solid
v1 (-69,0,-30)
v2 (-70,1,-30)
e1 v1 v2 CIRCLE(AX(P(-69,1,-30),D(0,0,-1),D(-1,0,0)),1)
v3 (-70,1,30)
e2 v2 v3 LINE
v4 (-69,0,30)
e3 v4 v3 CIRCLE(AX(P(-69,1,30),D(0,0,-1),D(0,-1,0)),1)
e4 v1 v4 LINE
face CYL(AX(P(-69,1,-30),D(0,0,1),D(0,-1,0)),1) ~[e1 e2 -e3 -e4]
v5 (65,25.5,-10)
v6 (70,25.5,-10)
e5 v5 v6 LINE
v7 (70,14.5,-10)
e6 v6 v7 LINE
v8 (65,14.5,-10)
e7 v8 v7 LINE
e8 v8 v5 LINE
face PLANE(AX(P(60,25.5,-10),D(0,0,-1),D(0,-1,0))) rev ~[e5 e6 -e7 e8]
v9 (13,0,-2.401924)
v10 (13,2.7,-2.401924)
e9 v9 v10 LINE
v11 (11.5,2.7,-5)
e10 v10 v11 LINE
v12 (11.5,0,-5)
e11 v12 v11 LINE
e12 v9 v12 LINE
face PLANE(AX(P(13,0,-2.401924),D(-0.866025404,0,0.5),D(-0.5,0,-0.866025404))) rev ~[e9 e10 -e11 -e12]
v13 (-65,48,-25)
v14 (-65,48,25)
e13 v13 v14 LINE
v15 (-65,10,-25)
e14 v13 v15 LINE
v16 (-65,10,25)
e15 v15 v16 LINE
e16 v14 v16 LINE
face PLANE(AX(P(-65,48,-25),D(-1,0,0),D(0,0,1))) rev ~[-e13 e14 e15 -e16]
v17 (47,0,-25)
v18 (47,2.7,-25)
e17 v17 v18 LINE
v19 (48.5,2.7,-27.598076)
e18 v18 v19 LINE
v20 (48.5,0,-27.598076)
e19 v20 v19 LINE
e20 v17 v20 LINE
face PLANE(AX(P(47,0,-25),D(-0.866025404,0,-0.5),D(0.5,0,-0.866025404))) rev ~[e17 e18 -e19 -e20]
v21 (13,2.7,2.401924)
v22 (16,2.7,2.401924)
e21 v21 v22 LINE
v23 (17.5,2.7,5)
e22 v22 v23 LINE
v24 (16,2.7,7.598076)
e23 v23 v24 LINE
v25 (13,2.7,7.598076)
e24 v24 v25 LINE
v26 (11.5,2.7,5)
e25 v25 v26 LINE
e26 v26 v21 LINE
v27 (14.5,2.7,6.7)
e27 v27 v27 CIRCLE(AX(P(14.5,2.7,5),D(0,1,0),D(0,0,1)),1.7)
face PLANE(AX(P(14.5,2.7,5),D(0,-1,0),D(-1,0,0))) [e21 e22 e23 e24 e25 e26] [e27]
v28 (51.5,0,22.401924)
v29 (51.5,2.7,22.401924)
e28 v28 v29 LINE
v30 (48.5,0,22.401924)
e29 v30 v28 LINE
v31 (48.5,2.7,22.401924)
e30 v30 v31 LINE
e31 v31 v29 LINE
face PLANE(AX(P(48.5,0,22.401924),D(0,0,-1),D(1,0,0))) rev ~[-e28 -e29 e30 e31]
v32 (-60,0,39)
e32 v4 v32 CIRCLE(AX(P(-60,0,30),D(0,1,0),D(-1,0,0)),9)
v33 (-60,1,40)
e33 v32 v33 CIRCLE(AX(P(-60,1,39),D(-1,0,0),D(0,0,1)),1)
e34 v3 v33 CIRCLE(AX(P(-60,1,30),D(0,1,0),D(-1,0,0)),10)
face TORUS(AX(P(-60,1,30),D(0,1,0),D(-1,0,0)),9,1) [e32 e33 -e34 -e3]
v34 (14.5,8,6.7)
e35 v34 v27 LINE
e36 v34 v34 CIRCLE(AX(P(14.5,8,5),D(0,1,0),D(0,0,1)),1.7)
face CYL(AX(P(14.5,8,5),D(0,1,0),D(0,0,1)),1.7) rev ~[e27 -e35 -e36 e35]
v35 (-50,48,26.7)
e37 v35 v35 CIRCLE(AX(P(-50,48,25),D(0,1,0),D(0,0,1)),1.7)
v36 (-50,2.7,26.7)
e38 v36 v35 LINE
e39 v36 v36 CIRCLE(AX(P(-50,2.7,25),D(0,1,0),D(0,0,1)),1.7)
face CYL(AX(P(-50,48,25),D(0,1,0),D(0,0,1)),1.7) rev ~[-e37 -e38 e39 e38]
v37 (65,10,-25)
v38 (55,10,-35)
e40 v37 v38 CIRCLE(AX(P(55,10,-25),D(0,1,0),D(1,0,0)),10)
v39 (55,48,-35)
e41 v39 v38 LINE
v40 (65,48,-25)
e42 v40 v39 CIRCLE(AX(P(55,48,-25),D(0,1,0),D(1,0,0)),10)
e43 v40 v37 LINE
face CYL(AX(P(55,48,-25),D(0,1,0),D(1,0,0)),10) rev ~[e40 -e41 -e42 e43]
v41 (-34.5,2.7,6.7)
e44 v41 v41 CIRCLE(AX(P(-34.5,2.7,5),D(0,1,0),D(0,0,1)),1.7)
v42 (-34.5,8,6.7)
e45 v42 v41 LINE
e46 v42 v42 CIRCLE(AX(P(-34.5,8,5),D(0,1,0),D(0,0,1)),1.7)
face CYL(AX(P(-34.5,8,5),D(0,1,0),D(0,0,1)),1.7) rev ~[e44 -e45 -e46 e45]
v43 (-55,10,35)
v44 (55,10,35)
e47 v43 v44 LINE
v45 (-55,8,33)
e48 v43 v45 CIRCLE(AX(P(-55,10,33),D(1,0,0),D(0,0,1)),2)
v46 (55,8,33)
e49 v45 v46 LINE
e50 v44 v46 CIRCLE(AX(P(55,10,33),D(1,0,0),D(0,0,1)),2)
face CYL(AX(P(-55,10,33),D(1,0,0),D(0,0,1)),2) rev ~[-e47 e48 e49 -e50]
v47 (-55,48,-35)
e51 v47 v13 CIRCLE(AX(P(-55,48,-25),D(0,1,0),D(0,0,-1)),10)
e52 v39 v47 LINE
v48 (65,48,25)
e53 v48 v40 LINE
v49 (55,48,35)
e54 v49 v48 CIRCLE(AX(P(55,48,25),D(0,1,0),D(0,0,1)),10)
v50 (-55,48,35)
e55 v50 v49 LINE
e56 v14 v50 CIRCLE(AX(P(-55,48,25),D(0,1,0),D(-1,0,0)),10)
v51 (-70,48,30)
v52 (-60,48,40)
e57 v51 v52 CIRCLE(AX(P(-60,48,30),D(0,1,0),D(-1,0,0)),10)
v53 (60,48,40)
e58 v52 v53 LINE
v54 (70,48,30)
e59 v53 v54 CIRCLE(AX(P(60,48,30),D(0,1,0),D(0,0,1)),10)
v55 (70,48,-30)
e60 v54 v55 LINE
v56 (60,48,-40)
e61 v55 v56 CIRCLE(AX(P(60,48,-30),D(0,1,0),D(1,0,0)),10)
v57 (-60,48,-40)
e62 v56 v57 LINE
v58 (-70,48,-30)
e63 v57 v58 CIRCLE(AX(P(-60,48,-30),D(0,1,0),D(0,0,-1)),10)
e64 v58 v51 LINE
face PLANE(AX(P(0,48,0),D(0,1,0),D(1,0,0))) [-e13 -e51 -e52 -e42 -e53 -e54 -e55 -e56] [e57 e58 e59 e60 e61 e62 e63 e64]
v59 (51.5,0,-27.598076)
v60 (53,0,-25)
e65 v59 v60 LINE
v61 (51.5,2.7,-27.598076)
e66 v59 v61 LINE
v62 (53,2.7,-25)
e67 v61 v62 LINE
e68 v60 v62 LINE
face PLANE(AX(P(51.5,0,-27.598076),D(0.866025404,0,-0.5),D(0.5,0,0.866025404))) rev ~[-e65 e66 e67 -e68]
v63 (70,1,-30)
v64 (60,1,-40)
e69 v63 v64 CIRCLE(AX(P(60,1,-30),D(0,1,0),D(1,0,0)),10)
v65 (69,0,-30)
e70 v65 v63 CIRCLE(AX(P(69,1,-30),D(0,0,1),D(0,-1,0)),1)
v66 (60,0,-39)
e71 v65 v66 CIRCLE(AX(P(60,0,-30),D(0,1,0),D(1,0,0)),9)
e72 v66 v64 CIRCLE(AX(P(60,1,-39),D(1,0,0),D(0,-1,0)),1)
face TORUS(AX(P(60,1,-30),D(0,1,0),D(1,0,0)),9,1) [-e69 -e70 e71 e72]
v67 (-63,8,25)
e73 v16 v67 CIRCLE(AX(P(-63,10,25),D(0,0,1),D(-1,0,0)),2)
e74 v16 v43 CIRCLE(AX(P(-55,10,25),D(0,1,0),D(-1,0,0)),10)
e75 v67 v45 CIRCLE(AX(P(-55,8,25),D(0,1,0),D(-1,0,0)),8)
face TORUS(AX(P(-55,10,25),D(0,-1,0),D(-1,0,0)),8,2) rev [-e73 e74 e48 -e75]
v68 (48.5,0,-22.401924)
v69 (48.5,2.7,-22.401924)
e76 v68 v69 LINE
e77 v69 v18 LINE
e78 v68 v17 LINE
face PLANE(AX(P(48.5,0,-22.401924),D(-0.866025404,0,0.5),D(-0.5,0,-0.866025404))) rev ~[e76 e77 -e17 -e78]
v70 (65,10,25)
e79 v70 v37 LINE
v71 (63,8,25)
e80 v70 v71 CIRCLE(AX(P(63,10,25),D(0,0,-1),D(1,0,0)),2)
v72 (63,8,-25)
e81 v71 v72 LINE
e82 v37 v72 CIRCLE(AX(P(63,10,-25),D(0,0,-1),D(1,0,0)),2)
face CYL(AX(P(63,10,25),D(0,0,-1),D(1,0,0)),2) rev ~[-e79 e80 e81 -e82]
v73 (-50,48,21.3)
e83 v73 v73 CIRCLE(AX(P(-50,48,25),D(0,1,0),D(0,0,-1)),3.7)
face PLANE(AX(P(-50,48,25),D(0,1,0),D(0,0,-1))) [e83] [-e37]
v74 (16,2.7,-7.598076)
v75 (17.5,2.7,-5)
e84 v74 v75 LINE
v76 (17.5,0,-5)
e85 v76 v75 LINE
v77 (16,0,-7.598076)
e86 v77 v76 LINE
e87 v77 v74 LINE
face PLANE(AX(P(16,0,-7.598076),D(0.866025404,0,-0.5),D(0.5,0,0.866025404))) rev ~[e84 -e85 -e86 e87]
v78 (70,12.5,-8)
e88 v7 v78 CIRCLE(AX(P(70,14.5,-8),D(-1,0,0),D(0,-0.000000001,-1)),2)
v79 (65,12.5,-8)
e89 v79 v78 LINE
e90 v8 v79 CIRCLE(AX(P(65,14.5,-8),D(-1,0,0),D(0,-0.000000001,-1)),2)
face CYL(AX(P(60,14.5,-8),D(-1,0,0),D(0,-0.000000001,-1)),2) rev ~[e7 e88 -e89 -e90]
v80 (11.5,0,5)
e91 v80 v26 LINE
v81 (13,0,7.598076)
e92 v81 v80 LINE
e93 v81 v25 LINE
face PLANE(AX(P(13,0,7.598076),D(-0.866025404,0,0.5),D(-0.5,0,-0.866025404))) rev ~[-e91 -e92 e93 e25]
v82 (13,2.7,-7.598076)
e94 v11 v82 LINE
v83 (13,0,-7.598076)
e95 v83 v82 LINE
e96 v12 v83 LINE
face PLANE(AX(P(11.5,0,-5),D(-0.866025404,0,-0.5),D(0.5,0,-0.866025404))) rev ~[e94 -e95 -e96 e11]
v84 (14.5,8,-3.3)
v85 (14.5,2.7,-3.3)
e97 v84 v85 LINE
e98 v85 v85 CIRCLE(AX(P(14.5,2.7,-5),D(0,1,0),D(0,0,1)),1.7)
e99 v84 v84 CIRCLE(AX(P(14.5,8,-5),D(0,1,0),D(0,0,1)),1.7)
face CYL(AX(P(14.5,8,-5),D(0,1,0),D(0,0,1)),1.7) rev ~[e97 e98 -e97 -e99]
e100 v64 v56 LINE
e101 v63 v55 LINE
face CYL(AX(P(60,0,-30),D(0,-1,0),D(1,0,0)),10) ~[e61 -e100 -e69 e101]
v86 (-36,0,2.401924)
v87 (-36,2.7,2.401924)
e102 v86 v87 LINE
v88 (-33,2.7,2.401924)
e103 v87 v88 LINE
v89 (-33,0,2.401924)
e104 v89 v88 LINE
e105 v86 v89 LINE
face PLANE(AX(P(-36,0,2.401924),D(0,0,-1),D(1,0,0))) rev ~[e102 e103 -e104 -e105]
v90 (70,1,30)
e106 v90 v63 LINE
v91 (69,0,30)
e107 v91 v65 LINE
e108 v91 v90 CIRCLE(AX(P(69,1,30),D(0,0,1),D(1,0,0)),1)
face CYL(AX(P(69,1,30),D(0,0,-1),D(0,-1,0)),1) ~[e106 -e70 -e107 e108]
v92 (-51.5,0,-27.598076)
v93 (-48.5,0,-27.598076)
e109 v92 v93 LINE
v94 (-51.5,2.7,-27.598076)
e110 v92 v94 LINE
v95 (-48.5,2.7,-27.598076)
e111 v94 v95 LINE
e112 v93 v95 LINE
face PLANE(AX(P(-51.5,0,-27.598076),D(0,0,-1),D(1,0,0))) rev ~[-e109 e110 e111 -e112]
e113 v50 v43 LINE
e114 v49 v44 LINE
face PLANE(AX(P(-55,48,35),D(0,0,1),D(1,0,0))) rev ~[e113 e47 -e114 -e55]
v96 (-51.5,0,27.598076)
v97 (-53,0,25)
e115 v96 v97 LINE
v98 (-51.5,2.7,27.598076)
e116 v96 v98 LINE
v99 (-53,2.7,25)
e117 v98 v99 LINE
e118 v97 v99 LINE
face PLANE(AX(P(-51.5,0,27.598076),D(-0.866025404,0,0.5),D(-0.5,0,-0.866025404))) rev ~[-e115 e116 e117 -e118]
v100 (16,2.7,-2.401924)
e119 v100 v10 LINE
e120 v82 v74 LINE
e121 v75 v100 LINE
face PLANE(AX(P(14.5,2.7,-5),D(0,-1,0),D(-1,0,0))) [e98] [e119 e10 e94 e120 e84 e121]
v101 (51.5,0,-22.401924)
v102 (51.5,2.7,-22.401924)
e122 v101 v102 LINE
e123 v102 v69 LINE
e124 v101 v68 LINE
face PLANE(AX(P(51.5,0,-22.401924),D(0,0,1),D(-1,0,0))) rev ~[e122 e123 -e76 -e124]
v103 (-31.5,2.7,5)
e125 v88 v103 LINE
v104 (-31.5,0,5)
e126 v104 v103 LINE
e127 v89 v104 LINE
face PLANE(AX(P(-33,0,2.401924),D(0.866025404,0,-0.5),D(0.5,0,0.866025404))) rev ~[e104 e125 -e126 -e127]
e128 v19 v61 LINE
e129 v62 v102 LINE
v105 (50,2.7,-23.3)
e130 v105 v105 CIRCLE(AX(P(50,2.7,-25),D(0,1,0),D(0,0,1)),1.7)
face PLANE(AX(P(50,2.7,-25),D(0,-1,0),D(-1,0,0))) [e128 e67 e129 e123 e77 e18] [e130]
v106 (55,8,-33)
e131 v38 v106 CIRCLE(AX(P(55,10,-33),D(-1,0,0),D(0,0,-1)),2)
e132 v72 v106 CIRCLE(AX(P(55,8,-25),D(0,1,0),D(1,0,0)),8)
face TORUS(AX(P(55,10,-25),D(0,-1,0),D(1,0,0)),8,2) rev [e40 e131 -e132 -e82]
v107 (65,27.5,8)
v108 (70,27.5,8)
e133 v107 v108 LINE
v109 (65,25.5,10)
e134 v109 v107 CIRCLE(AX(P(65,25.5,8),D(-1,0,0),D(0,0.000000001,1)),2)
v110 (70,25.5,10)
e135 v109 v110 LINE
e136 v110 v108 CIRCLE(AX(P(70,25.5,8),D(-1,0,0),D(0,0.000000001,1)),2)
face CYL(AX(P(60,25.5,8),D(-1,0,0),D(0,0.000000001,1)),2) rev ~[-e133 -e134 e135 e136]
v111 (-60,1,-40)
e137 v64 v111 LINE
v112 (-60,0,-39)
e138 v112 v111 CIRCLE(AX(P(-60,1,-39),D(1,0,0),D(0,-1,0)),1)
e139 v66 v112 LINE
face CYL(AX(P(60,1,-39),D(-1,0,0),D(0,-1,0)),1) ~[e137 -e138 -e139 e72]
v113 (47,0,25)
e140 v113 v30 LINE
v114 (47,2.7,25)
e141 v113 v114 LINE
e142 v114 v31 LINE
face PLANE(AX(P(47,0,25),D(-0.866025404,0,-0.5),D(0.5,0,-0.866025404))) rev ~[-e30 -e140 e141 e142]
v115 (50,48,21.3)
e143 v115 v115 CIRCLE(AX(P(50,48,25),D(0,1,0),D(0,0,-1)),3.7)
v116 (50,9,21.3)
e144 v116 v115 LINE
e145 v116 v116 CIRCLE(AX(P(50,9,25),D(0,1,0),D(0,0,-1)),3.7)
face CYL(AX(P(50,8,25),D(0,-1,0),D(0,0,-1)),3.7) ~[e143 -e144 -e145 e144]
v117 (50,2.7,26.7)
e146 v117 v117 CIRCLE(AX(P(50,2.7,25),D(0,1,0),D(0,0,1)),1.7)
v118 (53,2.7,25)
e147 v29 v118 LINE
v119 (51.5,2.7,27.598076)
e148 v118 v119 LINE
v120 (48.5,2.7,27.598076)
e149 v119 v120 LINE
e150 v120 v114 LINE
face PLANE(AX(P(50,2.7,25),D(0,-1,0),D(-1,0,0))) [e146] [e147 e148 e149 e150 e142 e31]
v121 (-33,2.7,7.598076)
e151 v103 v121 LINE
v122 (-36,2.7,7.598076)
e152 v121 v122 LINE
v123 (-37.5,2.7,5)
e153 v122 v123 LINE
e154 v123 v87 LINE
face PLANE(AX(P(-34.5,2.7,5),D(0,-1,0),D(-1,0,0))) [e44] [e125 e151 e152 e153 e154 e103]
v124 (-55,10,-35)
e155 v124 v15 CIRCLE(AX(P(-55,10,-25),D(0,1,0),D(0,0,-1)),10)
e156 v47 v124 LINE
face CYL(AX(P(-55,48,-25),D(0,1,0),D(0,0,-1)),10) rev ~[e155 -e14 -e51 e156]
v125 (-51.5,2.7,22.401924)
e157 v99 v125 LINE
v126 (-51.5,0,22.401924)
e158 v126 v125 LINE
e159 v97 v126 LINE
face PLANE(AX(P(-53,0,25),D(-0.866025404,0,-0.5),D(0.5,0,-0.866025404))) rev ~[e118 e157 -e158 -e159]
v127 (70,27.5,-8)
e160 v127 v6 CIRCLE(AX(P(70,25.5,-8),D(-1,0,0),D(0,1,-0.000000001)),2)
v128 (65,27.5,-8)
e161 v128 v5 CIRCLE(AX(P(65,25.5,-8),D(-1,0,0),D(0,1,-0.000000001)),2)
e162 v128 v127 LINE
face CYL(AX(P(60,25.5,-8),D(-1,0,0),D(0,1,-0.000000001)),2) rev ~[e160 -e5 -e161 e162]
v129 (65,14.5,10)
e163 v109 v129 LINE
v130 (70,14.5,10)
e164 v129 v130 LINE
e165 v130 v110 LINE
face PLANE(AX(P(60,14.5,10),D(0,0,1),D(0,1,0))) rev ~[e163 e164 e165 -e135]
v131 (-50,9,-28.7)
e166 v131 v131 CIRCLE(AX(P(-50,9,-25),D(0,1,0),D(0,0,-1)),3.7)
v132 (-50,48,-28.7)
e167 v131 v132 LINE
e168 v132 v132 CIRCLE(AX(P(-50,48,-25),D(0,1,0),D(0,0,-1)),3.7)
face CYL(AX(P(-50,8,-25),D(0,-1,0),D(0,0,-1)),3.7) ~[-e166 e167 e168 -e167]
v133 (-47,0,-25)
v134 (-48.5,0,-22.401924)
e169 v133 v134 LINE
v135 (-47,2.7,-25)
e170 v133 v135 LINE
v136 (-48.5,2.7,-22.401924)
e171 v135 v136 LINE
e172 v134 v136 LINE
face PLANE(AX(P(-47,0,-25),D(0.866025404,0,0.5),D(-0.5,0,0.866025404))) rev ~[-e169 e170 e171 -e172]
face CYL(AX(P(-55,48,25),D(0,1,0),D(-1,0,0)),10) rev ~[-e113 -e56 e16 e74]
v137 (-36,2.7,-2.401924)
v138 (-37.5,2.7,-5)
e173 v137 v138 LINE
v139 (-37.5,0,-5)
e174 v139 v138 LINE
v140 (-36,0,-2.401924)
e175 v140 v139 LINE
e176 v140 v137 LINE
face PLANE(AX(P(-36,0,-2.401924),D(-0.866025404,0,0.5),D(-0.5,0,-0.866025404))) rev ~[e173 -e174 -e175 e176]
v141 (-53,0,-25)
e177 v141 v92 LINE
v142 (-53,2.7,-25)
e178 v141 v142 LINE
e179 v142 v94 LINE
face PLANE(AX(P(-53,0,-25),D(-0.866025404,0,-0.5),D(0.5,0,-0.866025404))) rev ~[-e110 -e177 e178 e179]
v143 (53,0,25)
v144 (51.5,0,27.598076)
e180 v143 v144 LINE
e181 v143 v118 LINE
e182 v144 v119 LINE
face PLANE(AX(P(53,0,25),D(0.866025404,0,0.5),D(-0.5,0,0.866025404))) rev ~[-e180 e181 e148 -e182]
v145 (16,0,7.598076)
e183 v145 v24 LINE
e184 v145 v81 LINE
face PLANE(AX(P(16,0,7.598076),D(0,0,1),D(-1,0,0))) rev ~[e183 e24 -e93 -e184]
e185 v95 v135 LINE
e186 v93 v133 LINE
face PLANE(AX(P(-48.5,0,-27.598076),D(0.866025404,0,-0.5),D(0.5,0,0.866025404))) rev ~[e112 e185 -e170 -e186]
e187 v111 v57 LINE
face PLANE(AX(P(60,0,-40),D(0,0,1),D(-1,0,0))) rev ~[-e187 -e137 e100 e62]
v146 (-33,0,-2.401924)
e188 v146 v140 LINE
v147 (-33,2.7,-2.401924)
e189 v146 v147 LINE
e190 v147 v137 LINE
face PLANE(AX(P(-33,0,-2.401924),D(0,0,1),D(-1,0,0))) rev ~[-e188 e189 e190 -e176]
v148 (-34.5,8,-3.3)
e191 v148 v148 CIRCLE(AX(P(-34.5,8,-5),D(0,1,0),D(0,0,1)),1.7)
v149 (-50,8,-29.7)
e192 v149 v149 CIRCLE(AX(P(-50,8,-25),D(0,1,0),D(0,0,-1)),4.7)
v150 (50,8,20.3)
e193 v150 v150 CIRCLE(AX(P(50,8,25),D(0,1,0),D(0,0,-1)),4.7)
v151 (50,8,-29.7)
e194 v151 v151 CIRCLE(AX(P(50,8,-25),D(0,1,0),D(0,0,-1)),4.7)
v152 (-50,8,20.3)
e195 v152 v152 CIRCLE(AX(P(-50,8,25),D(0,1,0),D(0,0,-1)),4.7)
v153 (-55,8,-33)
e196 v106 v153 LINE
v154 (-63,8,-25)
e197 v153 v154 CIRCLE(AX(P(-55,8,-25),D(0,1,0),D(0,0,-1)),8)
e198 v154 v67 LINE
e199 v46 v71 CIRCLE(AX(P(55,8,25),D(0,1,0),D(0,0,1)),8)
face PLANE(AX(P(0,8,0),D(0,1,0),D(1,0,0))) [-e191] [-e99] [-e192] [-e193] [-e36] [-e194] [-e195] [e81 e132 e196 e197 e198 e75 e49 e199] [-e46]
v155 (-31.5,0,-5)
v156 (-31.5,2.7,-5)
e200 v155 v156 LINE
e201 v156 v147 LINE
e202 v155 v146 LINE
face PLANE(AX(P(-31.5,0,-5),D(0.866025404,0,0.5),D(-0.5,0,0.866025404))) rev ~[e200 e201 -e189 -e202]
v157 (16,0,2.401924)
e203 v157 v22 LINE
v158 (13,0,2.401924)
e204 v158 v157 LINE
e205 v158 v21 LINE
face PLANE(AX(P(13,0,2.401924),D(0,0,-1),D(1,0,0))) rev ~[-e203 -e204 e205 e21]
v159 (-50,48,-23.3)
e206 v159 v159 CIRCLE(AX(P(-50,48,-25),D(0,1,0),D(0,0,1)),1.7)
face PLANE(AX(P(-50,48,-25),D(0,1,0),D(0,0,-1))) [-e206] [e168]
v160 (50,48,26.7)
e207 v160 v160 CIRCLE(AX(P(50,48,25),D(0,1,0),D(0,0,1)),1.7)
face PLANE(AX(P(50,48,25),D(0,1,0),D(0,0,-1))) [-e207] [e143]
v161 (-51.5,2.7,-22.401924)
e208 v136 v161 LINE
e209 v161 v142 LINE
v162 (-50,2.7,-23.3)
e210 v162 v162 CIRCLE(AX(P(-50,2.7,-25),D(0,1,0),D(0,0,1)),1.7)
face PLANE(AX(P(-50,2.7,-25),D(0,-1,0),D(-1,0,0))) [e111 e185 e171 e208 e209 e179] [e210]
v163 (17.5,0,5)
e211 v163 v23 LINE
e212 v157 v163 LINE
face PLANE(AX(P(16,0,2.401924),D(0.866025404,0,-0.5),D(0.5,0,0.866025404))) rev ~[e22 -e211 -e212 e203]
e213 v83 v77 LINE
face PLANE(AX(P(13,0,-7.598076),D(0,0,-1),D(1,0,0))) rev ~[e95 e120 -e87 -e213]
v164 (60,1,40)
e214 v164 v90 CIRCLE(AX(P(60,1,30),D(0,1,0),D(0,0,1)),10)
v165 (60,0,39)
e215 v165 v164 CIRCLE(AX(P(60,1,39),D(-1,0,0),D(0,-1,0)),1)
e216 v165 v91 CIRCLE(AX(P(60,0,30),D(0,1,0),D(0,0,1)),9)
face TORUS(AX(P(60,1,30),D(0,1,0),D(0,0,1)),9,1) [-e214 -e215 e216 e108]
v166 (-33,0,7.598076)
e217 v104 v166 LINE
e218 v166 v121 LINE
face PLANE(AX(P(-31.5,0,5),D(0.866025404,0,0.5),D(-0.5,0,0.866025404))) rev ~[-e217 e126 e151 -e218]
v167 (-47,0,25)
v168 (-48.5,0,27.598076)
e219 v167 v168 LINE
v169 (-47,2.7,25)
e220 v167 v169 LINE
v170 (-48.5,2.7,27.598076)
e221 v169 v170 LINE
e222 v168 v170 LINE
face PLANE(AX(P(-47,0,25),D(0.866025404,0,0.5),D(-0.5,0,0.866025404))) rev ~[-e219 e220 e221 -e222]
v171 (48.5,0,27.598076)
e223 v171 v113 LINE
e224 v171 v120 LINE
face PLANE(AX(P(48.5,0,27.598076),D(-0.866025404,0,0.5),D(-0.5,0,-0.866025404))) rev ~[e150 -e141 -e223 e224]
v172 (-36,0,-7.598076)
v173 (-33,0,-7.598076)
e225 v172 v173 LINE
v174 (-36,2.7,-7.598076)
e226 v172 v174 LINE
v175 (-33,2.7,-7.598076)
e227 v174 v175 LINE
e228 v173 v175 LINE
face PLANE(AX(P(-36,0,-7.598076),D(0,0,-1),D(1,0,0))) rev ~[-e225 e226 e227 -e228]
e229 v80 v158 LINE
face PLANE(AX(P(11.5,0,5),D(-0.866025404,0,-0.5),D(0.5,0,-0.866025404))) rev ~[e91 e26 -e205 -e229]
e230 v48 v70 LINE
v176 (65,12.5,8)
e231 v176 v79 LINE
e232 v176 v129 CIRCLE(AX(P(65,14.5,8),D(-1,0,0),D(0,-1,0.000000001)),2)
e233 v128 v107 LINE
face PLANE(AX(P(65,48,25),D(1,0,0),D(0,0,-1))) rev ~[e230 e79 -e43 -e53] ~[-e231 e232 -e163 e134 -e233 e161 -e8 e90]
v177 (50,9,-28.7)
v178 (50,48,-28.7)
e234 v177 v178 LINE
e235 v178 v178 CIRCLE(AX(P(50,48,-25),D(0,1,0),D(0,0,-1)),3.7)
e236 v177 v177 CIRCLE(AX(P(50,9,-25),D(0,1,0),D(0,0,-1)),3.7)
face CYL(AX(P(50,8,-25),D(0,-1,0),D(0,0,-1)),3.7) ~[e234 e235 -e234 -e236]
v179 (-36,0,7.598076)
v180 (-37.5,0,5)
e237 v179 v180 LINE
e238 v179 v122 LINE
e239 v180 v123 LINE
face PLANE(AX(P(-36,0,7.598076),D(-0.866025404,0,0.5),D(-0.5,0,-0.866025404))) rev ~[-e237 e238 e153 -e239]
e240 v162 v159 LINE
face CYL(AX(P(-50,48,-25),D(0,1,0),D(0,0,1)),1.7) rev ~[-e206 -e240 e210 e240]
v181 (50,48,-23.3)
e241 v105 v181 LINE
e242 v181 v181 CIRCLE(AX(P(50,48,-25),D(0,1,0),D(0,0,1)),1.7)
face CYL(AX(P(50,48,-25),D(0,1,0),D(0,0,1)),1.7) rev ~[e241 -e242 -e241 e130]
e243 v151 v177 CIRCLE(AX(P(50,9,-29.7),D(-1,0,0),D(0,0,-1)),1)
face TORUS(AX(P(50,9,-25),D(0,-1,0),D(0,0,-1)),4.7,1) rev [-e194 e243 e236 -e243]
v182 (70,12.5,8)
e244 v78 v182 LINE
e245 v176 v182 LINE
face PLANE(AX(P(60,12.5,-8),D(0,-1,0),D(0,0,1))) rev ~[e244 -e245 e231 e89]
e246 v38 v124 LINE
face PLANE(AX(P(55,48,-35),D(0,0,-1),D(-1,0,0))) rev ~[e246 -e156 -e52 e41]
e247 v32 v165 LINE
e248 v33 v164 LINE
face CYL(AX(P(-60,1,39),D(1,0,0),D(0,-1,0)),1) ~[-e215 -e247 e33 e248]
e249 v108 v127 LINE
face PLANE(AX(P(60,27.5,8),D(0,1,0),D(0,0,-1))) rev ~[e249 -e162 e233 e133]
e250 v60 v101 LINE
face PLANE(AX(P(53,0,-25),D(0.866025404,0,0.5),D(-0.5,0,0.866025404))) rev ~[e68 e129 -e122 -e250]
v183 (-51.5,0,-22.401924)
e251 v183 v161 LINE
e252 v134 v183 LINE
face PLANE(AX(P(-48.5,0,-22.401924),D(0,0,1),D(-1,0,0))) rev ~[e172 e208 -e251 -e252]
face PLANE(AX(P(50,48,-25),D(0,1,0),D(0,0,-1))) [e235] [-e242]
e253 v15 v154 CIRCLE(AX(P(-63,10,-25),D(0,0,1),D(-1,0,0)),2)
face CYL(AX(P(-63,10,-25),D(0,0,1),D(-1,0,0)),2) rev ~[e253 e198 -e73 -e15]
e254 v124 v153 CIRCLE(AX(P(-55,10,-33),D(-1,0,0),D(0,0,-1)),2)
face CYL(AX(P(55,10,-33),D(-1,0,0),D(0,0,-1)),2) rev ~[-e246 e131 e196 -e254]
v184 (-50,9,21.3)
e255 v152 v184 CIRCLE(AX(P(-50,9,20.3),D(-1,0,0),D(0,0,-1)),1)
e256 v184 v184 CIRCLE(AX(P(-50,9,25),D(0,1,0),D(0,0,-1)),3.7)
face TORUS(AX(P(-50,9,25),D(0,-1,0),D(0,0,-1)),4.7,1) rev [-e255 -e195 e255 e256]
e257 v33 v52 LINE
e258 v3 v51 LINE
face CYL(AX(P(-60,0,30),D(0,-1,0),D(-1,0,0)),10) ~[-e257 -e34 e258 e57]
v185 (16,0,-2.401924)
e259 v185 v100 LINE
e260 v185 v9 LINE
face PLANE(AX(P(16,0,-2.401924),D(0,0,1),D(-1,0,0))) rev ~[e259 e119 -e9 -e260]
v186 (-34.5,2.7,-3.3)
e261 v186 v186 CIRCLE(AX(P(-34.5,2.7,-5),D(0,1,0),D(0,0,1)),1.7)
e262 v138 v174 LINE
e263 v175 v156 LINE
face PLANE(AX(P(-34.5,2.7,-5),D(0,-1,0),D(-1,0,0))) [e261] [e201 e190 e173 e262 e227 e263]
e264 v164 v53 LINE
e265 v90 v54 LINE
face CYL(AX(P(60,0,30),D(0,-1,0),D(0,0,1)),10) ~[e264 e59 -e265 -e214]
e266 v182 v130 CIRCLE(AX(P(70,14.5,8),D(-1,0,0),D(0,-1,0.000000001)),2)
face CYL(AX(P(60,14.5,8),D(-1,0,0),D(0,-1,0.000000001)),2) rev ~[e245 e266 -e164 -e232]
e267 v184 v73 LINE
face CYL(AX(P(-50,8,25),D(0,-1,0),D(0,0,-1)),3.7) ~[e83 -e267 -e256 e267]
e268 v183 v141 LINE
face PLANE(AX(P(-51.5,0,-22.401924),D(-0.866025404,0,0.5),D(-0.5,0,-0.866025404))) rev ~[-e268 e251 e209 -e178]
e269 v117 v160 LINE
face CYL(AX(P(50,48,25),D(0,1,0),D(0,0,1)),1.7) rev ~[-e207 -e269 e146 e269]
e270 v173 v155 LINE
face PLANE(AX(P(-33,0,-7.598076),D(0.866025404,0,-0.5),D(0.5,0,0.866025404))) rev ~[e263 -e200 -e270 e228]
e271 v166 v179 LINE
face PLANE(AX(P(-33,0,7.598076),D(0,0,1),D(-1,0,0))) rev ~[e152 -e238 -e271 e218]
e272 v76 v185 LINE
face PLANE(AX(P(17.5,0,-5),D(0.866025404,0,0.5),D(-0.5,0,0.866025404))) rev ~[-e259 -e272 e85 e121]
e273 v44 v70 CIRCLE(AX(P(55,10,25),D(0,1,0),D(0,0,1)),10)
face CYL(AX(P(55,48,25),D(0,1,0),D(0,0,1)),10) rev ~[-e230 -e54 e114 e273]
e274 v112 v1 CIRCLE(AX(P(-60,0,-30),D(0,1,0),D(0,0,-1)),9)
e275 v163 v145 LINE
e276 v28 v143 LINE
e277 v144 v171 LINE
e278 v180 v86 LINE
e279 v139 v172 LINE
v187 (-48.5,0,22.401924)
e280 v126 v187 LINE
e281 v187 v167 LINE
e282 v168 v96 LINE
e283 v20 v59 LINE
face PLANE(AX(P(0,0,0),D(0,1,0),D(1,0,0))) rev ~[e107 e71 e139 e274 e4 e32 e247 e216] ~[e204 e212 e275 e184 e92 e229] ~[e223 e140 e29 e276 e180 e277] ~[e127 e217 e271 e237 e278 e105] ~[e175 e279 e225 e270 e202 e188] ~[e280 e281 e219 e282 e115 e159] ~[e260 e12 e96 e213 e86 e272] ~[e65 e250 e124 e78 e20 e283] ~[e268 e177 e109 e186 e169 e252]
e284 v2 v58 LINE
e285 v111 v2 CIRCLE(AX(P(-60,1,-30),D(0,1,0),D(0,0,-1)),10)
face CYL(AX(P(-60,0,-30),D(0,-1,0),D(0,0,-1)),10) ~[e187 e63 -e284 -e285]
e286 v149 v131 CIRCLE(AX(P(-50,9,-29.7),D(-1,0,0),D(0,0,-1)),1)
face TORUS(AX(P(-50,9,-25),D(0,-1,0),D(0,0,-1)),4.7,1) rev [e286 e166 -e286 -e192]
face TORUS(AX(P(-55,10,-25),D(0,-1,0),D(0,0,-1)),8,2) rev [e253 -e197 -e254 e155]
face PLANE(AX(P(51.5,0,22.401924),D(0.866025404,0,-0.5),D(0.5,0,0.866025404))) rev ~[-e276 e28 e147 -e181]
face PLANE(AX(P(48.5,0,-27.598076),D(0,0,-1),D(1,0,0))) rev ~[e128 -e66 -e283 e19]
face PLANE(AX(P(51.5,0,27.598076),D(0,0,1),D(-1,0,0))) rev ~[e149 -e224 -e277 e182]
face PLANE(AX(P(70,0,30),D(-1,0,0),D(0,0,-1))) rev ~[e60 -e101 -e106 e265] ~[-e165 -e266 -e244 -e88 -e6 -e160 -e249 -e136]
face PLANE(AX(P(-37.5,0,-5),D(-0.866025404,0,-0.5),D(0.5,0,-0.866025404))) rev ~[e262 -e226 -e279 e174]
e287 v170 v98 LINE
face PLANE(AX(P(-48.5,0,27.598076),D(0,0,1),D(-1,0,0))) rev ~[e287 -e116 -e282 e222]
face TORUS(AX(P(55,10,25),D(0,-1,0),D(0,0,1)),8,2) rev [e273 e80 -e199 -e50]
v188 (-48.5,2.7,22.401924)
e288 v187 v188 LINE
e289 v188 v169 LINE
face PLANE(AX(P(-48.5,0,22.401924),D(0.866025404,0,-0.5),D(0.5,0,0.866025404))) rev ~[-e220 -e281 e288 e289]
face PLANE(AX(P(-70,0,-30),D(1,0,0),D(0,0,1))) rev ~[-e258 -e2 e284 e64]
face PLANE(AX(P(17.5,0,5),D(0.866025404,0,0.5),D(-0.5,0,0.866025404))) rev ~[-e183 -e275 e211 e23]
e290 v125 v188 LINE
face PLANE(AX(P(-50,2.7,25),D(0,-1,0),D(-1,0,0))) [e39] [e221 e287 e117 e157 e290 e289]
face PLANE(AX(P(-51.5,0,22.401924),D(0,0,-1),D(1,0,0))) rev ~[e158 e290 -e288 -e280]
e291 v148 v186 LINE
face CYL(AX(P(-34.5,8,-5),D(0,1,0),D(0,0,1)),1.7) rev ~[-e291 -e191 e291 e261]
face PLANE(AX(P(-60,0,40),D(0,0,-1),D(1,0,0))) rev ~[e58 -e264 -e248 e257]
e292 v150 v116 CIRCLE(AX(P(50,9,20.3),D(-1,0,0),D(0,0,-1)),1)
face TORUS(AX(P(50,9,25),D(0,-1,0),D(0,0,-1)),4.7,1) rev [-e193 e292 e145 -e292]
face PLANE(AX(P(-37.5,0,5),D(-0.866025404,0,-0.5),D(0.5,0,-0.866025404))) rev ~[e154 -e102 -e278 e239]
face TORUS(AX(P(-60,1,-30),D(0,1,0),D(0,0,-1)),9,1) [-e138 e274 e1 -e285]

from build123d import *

# Parameters (mm, degrees)
BOSS_EXTRUDE1_DEPTH = 48
CUT_EXTRUDE1_DEPTH  = 40
SKETCH4_R           = 1.7
CUT_EXTRUDE2_DEPTH  = 91
CUT_EXTRUDE3_DEPTH  = 2.7
SKETCH6_R           = 3.7
BOSS_EXTRUDE2_DEPTH = 40
SKETCH7_R           = 1.7
CUT_EXTRUDE4_DEPTH  = 94.829632846
FILLET1_R           = 1
FILLET3_R           = 2
FILLET4_R           = 1
SKETCH8_R           = 1.7
CUT_EXTRUDE5_DEPTH  = 91.000000078
CUT_EXTRUDE6_DEPTH  = 2.7
CUT_EXTRUDE7_START  = -130
CUT_EXTRUDE7_DEPTH  = 20


with BuildPart() as part:
    # Sketch2 → Boss-Extrude1 (new body)
    with BuildSketch(Plane(origin=(0, 0, 0), x_dir=(1, 0, 0), z_dir=(0, 1, 0))):
        with BuildLine():
            Line((-60, -40), (60, -40))
            ThreePointArc((60, -40), (67.071067812, -37.071067812), (70, -30))
            Line((70, -30), (70, 30))
            ThreePointArc((70, 30), (67.071067812, 37.071067812), (60, 40))
            Line((60, 40), (-60, 40))
            ThreePointArc((-60, 40), (-67.071067812, 37.071067812), (-70, 30))
            Line((-70, 30), (-70, -30))
            ThreePointArc((-70, -30), (-67.071067812, -37.071067812), (-60, -40))
        make_face()
    extrude(amount=BOSS_EXTRUDE1_DEPTH)

    # Sketch3 → Cut-Extrude1 (cut)
    with BuildSketch(Plane(origin=(0, 48, 0), x_dir=(1, 0, 0), z_dir=(0, 1, 0))):
        with BuildLine():
            Line((-55, -35), (55, -35))
            ThreePointArc((55, -35), (62.071067812, -32.071067812), (65, -25))
            Line((65, -25), (65, 25))
            ThreePointArc((65, 25), (62.071067812, 32.071067812), (55, 35))
            Line((55, 35), (-55, 35))
            ThreePointArc((-55, 35), (-62.071067812, 32.071067812), (-65, 25))
            Line((-65, 25), (-65, -25))
            ThreePointArc((-65, -25), (-62.071067812, -32.071067812), (-55, -35))
        make_face()
    extrude(amount=-CUT_EXTRUDE1_DEPTH, mode=Mode.SUBTRACT)

    # Sketch4 → Cut-Extrude2 (cut, through all)
    with BuildSketch(Plane(origin=(0, 8, 0), x_dir=(1, 0, 0), z_dir=(0, 1, 0))):
        with Locations(Location((-50, 25, 0), (0, 0, 270))):
            Circle(SKETCH4_R)
        with Locations(Location((50, 25, 0), (0, 0, 270))):
            Circle(SKETCH4_R)
        with Locations(Location((50, -25, 0), (0, 0, 270))):
            Circle(SKETCH4_R)
        with Locations(Location((-50, -25, 0), (0, 0, 270))):
            Circle(SKETCH4_R)
    extrude(amount=-CUT_EXTRUDE2_DEPTH, mode=Mode.SUBTRACT)

    # Sketch5 → Cut-Extrude3 (cut)
    with BuildSketch(Plane(origin=(0, 0, 0), x_dir=(-1, 0, 0), z_dir=(0, -1, 0))):
        Polygon((53, -25), (51.5, -22.401923789), (48.5, -22.401923789), (47, -25), (48.5, -27.598076211), (51.5, -27.598076211), align=None)
        Polygon((47, 25), (48.5, 22.401923789), (51.5, 22.401923789), (53, 25), (51.5, 27.598076211), (48.5, 27.598076211), align=None)
        Polygon((-53, 25), (-51.5, 22.401923789), (-48.5, 22.401923789), (-47, 25), (-48.5, 27.598076211), (-51.5, 27.598076211), align=None)
        Polygon((-53, -25), (-51.5, -27.598076211), (-48.5, -27.598076211), (-47, -25), (-48.5, -22.401923789), (-51.5, -22.401923789), align=None)
    extrude(amount=-CUT_EXTRUDE3_DEPTH, mode=Mode.SUBTRACT)

    # Sketch6 → Boss-Extrude2 (add)
    with BuildSketch(Plane(origin=(0, 8, 0), x_dir=(1, 0, 0), z_dir=(0, 1, 0))):
        with Locations(Location((-50, 25, 0), (0, 0, 90))):
            Circle(SKETCH6_R)
        with Locations(Location((-50, -25, 0), (0, 0, 90))):
            Circle(SKETCH6_R)
        with Locations(Location((50, 25, 0), (0, 0, 90))):
            Circle(SKETCH6_R)
        with Locations(Location((50, -25, 0), (0, 0, 90))):
            Circle(SKETCH6_R)
    extrude(amount=BOSS_EXTRUDE2_DEPTH)

    # Sketch7 → Cut-Extrude4 (cut, through all)
    with BuildSketch(Plane(origin=(0, 48, 0), x_dir=(1, 0, 0), z_dir=(0, 1, 0))):
        with Locations(Location((-50, 25, 0), (0, 0, 270))):
            Circle(SKETCH7_R)
        with Locations(Location((50, 25, 0), (0, 0, 270))):
            Circle(SKETCH7_R)
        with Locations(Location((-50, -25, 0), (0, 0, 270))):
            Circle(SKETCH7_R)
        with Locations(Location((50, -25, 0), (0, 0, 270))):
            Circle(SKETCH7_R)
    extrude(amount=-CUT_EXTRUDE4_DEPTH, mode=Mode.SUBTRACT)

    # Fillet1
    fillet1_edges = [part.edges().sort_by_distance(p)[0] for p in [
        (0, 0, -40),
        (67.071067812, 0, -37.071067812),
        (70, 0, 0),
        (67.071067812, 0, 37.071067812),
        (0, 0, 40),
        (-67.071067812, 0, 37.071067812),
        (-70, 0, 0),
        (-67.071067812, 0, -37.071067812),
    ]]
    fillet(fillet1_edges, radius=FILLET1_R)

    # Fillet3
    fillet3_edges = [part.edges().sort_by_distance(p)[0] for p in [
        (62.071067812, 8, -32.071067812),
        (65, 8, 0),
        (62.071067812, 8, 32.071067812),
        (0, 8, 35),
        (-62.071067812, 8, 32.071067812),
        (-65, 8, 0),
        (-62.071067812, 8, -32.071067812),
        (0, 8, -35),
    ]]
    fillet(fillet3_edges, radius=FILLET3_R)

    # Fillet4
    fillet4_edges = [part.edges().sort_by_distance(p)[0] for p in [
        (-50, 8, -21.3),
        (50, 8, 28.7),
        (50, 8, -21.3),
        (-50, 8, 28.7),
    ]]
    fillet(fillet4_edges, radius=FILLET4_R)

    # Sketch8 → Cut-Extrude5 (cut, through all)
    with BuildSketch(Plane(origin=(0, 8, 0), x_dir=(1, 0, 0), z_dir=(0, 1, 0))):
        with Locations(Location((-34.5, 5, 0), (0, 0, 270))):
            Circle(SKETCH8_R)
        with Locations(Location((-34.5, -5, 0), (0, 0, 270))):
            Circle(SKETCH8_R)
        with Locations(Location((14.5, 5, 0), (0, 0, 270))):
            Circle(SKETCH8_R)
        with Locations(Location((14.5, -5, 0), (0, 0, 270))):
            Circle(SKETCH8_R)
    extrude(amount=-CUT_EXTRUDE5_DEPTH, mode=Mode.SUBTRACT)

    # Sketch9 → Cut-Extrude6 (cut)
    with BuildSketch(Plane(origin=(0, 0, 0), x_dir=(-1, 0, 0), z_dir=(0, -1, 0))):
        Polygon((-17.5, -5), (-16, -7.598076211), (-13, -7.598076211), (-11.5, -5), (-13, -2.401923789), (-16, -2.401923789), align=None)
        Polygon((-17.5, 5), (-16, 2.401923789), (-13, 2.401923789), (-11.5, 5), (-13, 7.598076211), (-16, 7.598076211), align=None)
        Polygon((31.5, 5), (33, 2.401923789), (36, 2.401923789), (37.5, 5), (36, 7.598076211), (33, 7.598076211), align=None)
        Polygon((31.5, -5), (33, -7.598076211), (36, -7.598076211), (37.5, -5), (36, -2.401923789), (33, -2.401923789), align=None)
    extrude(amount=-CUT_EXTRUDE6_DEPTH, mode=Mode.SUBTRACT)

    # Sketch10 → Cut-Extrude7 (cut)
    with BuildSketch(Plane.ZY.offset(70).offset(CUT_EXTRUDE7_START)):
        with BuildLine():
            Line((-8, 12.5), (8, 12.5))
            ThreePointArc((8, 12.5), (9.414213562, 13.085786438), (10, 14.5))
            Line((10, 14.5), (10, 25.5))
            ThreePointArc((10, 25.5), (9.414213562, 26.914213562), (8, 27.5))
            Line((8, 27.5), (-8, 27.5))
            ThreePointArc((-8, 27.5), (-9.414213562, 26.914213562), (-10, 25.5))
            Line((-10, 25.5), (-10, 14.5))
            ThreePointArc((-10, 14.5), (-9.414213562, 13.085786438), (-8, 12.5))
        make_face()
    extrude(amount=-CUT_EXTRUDE7_DEPTH, mode=Mode.SUBTRACT)


solid = part.part
